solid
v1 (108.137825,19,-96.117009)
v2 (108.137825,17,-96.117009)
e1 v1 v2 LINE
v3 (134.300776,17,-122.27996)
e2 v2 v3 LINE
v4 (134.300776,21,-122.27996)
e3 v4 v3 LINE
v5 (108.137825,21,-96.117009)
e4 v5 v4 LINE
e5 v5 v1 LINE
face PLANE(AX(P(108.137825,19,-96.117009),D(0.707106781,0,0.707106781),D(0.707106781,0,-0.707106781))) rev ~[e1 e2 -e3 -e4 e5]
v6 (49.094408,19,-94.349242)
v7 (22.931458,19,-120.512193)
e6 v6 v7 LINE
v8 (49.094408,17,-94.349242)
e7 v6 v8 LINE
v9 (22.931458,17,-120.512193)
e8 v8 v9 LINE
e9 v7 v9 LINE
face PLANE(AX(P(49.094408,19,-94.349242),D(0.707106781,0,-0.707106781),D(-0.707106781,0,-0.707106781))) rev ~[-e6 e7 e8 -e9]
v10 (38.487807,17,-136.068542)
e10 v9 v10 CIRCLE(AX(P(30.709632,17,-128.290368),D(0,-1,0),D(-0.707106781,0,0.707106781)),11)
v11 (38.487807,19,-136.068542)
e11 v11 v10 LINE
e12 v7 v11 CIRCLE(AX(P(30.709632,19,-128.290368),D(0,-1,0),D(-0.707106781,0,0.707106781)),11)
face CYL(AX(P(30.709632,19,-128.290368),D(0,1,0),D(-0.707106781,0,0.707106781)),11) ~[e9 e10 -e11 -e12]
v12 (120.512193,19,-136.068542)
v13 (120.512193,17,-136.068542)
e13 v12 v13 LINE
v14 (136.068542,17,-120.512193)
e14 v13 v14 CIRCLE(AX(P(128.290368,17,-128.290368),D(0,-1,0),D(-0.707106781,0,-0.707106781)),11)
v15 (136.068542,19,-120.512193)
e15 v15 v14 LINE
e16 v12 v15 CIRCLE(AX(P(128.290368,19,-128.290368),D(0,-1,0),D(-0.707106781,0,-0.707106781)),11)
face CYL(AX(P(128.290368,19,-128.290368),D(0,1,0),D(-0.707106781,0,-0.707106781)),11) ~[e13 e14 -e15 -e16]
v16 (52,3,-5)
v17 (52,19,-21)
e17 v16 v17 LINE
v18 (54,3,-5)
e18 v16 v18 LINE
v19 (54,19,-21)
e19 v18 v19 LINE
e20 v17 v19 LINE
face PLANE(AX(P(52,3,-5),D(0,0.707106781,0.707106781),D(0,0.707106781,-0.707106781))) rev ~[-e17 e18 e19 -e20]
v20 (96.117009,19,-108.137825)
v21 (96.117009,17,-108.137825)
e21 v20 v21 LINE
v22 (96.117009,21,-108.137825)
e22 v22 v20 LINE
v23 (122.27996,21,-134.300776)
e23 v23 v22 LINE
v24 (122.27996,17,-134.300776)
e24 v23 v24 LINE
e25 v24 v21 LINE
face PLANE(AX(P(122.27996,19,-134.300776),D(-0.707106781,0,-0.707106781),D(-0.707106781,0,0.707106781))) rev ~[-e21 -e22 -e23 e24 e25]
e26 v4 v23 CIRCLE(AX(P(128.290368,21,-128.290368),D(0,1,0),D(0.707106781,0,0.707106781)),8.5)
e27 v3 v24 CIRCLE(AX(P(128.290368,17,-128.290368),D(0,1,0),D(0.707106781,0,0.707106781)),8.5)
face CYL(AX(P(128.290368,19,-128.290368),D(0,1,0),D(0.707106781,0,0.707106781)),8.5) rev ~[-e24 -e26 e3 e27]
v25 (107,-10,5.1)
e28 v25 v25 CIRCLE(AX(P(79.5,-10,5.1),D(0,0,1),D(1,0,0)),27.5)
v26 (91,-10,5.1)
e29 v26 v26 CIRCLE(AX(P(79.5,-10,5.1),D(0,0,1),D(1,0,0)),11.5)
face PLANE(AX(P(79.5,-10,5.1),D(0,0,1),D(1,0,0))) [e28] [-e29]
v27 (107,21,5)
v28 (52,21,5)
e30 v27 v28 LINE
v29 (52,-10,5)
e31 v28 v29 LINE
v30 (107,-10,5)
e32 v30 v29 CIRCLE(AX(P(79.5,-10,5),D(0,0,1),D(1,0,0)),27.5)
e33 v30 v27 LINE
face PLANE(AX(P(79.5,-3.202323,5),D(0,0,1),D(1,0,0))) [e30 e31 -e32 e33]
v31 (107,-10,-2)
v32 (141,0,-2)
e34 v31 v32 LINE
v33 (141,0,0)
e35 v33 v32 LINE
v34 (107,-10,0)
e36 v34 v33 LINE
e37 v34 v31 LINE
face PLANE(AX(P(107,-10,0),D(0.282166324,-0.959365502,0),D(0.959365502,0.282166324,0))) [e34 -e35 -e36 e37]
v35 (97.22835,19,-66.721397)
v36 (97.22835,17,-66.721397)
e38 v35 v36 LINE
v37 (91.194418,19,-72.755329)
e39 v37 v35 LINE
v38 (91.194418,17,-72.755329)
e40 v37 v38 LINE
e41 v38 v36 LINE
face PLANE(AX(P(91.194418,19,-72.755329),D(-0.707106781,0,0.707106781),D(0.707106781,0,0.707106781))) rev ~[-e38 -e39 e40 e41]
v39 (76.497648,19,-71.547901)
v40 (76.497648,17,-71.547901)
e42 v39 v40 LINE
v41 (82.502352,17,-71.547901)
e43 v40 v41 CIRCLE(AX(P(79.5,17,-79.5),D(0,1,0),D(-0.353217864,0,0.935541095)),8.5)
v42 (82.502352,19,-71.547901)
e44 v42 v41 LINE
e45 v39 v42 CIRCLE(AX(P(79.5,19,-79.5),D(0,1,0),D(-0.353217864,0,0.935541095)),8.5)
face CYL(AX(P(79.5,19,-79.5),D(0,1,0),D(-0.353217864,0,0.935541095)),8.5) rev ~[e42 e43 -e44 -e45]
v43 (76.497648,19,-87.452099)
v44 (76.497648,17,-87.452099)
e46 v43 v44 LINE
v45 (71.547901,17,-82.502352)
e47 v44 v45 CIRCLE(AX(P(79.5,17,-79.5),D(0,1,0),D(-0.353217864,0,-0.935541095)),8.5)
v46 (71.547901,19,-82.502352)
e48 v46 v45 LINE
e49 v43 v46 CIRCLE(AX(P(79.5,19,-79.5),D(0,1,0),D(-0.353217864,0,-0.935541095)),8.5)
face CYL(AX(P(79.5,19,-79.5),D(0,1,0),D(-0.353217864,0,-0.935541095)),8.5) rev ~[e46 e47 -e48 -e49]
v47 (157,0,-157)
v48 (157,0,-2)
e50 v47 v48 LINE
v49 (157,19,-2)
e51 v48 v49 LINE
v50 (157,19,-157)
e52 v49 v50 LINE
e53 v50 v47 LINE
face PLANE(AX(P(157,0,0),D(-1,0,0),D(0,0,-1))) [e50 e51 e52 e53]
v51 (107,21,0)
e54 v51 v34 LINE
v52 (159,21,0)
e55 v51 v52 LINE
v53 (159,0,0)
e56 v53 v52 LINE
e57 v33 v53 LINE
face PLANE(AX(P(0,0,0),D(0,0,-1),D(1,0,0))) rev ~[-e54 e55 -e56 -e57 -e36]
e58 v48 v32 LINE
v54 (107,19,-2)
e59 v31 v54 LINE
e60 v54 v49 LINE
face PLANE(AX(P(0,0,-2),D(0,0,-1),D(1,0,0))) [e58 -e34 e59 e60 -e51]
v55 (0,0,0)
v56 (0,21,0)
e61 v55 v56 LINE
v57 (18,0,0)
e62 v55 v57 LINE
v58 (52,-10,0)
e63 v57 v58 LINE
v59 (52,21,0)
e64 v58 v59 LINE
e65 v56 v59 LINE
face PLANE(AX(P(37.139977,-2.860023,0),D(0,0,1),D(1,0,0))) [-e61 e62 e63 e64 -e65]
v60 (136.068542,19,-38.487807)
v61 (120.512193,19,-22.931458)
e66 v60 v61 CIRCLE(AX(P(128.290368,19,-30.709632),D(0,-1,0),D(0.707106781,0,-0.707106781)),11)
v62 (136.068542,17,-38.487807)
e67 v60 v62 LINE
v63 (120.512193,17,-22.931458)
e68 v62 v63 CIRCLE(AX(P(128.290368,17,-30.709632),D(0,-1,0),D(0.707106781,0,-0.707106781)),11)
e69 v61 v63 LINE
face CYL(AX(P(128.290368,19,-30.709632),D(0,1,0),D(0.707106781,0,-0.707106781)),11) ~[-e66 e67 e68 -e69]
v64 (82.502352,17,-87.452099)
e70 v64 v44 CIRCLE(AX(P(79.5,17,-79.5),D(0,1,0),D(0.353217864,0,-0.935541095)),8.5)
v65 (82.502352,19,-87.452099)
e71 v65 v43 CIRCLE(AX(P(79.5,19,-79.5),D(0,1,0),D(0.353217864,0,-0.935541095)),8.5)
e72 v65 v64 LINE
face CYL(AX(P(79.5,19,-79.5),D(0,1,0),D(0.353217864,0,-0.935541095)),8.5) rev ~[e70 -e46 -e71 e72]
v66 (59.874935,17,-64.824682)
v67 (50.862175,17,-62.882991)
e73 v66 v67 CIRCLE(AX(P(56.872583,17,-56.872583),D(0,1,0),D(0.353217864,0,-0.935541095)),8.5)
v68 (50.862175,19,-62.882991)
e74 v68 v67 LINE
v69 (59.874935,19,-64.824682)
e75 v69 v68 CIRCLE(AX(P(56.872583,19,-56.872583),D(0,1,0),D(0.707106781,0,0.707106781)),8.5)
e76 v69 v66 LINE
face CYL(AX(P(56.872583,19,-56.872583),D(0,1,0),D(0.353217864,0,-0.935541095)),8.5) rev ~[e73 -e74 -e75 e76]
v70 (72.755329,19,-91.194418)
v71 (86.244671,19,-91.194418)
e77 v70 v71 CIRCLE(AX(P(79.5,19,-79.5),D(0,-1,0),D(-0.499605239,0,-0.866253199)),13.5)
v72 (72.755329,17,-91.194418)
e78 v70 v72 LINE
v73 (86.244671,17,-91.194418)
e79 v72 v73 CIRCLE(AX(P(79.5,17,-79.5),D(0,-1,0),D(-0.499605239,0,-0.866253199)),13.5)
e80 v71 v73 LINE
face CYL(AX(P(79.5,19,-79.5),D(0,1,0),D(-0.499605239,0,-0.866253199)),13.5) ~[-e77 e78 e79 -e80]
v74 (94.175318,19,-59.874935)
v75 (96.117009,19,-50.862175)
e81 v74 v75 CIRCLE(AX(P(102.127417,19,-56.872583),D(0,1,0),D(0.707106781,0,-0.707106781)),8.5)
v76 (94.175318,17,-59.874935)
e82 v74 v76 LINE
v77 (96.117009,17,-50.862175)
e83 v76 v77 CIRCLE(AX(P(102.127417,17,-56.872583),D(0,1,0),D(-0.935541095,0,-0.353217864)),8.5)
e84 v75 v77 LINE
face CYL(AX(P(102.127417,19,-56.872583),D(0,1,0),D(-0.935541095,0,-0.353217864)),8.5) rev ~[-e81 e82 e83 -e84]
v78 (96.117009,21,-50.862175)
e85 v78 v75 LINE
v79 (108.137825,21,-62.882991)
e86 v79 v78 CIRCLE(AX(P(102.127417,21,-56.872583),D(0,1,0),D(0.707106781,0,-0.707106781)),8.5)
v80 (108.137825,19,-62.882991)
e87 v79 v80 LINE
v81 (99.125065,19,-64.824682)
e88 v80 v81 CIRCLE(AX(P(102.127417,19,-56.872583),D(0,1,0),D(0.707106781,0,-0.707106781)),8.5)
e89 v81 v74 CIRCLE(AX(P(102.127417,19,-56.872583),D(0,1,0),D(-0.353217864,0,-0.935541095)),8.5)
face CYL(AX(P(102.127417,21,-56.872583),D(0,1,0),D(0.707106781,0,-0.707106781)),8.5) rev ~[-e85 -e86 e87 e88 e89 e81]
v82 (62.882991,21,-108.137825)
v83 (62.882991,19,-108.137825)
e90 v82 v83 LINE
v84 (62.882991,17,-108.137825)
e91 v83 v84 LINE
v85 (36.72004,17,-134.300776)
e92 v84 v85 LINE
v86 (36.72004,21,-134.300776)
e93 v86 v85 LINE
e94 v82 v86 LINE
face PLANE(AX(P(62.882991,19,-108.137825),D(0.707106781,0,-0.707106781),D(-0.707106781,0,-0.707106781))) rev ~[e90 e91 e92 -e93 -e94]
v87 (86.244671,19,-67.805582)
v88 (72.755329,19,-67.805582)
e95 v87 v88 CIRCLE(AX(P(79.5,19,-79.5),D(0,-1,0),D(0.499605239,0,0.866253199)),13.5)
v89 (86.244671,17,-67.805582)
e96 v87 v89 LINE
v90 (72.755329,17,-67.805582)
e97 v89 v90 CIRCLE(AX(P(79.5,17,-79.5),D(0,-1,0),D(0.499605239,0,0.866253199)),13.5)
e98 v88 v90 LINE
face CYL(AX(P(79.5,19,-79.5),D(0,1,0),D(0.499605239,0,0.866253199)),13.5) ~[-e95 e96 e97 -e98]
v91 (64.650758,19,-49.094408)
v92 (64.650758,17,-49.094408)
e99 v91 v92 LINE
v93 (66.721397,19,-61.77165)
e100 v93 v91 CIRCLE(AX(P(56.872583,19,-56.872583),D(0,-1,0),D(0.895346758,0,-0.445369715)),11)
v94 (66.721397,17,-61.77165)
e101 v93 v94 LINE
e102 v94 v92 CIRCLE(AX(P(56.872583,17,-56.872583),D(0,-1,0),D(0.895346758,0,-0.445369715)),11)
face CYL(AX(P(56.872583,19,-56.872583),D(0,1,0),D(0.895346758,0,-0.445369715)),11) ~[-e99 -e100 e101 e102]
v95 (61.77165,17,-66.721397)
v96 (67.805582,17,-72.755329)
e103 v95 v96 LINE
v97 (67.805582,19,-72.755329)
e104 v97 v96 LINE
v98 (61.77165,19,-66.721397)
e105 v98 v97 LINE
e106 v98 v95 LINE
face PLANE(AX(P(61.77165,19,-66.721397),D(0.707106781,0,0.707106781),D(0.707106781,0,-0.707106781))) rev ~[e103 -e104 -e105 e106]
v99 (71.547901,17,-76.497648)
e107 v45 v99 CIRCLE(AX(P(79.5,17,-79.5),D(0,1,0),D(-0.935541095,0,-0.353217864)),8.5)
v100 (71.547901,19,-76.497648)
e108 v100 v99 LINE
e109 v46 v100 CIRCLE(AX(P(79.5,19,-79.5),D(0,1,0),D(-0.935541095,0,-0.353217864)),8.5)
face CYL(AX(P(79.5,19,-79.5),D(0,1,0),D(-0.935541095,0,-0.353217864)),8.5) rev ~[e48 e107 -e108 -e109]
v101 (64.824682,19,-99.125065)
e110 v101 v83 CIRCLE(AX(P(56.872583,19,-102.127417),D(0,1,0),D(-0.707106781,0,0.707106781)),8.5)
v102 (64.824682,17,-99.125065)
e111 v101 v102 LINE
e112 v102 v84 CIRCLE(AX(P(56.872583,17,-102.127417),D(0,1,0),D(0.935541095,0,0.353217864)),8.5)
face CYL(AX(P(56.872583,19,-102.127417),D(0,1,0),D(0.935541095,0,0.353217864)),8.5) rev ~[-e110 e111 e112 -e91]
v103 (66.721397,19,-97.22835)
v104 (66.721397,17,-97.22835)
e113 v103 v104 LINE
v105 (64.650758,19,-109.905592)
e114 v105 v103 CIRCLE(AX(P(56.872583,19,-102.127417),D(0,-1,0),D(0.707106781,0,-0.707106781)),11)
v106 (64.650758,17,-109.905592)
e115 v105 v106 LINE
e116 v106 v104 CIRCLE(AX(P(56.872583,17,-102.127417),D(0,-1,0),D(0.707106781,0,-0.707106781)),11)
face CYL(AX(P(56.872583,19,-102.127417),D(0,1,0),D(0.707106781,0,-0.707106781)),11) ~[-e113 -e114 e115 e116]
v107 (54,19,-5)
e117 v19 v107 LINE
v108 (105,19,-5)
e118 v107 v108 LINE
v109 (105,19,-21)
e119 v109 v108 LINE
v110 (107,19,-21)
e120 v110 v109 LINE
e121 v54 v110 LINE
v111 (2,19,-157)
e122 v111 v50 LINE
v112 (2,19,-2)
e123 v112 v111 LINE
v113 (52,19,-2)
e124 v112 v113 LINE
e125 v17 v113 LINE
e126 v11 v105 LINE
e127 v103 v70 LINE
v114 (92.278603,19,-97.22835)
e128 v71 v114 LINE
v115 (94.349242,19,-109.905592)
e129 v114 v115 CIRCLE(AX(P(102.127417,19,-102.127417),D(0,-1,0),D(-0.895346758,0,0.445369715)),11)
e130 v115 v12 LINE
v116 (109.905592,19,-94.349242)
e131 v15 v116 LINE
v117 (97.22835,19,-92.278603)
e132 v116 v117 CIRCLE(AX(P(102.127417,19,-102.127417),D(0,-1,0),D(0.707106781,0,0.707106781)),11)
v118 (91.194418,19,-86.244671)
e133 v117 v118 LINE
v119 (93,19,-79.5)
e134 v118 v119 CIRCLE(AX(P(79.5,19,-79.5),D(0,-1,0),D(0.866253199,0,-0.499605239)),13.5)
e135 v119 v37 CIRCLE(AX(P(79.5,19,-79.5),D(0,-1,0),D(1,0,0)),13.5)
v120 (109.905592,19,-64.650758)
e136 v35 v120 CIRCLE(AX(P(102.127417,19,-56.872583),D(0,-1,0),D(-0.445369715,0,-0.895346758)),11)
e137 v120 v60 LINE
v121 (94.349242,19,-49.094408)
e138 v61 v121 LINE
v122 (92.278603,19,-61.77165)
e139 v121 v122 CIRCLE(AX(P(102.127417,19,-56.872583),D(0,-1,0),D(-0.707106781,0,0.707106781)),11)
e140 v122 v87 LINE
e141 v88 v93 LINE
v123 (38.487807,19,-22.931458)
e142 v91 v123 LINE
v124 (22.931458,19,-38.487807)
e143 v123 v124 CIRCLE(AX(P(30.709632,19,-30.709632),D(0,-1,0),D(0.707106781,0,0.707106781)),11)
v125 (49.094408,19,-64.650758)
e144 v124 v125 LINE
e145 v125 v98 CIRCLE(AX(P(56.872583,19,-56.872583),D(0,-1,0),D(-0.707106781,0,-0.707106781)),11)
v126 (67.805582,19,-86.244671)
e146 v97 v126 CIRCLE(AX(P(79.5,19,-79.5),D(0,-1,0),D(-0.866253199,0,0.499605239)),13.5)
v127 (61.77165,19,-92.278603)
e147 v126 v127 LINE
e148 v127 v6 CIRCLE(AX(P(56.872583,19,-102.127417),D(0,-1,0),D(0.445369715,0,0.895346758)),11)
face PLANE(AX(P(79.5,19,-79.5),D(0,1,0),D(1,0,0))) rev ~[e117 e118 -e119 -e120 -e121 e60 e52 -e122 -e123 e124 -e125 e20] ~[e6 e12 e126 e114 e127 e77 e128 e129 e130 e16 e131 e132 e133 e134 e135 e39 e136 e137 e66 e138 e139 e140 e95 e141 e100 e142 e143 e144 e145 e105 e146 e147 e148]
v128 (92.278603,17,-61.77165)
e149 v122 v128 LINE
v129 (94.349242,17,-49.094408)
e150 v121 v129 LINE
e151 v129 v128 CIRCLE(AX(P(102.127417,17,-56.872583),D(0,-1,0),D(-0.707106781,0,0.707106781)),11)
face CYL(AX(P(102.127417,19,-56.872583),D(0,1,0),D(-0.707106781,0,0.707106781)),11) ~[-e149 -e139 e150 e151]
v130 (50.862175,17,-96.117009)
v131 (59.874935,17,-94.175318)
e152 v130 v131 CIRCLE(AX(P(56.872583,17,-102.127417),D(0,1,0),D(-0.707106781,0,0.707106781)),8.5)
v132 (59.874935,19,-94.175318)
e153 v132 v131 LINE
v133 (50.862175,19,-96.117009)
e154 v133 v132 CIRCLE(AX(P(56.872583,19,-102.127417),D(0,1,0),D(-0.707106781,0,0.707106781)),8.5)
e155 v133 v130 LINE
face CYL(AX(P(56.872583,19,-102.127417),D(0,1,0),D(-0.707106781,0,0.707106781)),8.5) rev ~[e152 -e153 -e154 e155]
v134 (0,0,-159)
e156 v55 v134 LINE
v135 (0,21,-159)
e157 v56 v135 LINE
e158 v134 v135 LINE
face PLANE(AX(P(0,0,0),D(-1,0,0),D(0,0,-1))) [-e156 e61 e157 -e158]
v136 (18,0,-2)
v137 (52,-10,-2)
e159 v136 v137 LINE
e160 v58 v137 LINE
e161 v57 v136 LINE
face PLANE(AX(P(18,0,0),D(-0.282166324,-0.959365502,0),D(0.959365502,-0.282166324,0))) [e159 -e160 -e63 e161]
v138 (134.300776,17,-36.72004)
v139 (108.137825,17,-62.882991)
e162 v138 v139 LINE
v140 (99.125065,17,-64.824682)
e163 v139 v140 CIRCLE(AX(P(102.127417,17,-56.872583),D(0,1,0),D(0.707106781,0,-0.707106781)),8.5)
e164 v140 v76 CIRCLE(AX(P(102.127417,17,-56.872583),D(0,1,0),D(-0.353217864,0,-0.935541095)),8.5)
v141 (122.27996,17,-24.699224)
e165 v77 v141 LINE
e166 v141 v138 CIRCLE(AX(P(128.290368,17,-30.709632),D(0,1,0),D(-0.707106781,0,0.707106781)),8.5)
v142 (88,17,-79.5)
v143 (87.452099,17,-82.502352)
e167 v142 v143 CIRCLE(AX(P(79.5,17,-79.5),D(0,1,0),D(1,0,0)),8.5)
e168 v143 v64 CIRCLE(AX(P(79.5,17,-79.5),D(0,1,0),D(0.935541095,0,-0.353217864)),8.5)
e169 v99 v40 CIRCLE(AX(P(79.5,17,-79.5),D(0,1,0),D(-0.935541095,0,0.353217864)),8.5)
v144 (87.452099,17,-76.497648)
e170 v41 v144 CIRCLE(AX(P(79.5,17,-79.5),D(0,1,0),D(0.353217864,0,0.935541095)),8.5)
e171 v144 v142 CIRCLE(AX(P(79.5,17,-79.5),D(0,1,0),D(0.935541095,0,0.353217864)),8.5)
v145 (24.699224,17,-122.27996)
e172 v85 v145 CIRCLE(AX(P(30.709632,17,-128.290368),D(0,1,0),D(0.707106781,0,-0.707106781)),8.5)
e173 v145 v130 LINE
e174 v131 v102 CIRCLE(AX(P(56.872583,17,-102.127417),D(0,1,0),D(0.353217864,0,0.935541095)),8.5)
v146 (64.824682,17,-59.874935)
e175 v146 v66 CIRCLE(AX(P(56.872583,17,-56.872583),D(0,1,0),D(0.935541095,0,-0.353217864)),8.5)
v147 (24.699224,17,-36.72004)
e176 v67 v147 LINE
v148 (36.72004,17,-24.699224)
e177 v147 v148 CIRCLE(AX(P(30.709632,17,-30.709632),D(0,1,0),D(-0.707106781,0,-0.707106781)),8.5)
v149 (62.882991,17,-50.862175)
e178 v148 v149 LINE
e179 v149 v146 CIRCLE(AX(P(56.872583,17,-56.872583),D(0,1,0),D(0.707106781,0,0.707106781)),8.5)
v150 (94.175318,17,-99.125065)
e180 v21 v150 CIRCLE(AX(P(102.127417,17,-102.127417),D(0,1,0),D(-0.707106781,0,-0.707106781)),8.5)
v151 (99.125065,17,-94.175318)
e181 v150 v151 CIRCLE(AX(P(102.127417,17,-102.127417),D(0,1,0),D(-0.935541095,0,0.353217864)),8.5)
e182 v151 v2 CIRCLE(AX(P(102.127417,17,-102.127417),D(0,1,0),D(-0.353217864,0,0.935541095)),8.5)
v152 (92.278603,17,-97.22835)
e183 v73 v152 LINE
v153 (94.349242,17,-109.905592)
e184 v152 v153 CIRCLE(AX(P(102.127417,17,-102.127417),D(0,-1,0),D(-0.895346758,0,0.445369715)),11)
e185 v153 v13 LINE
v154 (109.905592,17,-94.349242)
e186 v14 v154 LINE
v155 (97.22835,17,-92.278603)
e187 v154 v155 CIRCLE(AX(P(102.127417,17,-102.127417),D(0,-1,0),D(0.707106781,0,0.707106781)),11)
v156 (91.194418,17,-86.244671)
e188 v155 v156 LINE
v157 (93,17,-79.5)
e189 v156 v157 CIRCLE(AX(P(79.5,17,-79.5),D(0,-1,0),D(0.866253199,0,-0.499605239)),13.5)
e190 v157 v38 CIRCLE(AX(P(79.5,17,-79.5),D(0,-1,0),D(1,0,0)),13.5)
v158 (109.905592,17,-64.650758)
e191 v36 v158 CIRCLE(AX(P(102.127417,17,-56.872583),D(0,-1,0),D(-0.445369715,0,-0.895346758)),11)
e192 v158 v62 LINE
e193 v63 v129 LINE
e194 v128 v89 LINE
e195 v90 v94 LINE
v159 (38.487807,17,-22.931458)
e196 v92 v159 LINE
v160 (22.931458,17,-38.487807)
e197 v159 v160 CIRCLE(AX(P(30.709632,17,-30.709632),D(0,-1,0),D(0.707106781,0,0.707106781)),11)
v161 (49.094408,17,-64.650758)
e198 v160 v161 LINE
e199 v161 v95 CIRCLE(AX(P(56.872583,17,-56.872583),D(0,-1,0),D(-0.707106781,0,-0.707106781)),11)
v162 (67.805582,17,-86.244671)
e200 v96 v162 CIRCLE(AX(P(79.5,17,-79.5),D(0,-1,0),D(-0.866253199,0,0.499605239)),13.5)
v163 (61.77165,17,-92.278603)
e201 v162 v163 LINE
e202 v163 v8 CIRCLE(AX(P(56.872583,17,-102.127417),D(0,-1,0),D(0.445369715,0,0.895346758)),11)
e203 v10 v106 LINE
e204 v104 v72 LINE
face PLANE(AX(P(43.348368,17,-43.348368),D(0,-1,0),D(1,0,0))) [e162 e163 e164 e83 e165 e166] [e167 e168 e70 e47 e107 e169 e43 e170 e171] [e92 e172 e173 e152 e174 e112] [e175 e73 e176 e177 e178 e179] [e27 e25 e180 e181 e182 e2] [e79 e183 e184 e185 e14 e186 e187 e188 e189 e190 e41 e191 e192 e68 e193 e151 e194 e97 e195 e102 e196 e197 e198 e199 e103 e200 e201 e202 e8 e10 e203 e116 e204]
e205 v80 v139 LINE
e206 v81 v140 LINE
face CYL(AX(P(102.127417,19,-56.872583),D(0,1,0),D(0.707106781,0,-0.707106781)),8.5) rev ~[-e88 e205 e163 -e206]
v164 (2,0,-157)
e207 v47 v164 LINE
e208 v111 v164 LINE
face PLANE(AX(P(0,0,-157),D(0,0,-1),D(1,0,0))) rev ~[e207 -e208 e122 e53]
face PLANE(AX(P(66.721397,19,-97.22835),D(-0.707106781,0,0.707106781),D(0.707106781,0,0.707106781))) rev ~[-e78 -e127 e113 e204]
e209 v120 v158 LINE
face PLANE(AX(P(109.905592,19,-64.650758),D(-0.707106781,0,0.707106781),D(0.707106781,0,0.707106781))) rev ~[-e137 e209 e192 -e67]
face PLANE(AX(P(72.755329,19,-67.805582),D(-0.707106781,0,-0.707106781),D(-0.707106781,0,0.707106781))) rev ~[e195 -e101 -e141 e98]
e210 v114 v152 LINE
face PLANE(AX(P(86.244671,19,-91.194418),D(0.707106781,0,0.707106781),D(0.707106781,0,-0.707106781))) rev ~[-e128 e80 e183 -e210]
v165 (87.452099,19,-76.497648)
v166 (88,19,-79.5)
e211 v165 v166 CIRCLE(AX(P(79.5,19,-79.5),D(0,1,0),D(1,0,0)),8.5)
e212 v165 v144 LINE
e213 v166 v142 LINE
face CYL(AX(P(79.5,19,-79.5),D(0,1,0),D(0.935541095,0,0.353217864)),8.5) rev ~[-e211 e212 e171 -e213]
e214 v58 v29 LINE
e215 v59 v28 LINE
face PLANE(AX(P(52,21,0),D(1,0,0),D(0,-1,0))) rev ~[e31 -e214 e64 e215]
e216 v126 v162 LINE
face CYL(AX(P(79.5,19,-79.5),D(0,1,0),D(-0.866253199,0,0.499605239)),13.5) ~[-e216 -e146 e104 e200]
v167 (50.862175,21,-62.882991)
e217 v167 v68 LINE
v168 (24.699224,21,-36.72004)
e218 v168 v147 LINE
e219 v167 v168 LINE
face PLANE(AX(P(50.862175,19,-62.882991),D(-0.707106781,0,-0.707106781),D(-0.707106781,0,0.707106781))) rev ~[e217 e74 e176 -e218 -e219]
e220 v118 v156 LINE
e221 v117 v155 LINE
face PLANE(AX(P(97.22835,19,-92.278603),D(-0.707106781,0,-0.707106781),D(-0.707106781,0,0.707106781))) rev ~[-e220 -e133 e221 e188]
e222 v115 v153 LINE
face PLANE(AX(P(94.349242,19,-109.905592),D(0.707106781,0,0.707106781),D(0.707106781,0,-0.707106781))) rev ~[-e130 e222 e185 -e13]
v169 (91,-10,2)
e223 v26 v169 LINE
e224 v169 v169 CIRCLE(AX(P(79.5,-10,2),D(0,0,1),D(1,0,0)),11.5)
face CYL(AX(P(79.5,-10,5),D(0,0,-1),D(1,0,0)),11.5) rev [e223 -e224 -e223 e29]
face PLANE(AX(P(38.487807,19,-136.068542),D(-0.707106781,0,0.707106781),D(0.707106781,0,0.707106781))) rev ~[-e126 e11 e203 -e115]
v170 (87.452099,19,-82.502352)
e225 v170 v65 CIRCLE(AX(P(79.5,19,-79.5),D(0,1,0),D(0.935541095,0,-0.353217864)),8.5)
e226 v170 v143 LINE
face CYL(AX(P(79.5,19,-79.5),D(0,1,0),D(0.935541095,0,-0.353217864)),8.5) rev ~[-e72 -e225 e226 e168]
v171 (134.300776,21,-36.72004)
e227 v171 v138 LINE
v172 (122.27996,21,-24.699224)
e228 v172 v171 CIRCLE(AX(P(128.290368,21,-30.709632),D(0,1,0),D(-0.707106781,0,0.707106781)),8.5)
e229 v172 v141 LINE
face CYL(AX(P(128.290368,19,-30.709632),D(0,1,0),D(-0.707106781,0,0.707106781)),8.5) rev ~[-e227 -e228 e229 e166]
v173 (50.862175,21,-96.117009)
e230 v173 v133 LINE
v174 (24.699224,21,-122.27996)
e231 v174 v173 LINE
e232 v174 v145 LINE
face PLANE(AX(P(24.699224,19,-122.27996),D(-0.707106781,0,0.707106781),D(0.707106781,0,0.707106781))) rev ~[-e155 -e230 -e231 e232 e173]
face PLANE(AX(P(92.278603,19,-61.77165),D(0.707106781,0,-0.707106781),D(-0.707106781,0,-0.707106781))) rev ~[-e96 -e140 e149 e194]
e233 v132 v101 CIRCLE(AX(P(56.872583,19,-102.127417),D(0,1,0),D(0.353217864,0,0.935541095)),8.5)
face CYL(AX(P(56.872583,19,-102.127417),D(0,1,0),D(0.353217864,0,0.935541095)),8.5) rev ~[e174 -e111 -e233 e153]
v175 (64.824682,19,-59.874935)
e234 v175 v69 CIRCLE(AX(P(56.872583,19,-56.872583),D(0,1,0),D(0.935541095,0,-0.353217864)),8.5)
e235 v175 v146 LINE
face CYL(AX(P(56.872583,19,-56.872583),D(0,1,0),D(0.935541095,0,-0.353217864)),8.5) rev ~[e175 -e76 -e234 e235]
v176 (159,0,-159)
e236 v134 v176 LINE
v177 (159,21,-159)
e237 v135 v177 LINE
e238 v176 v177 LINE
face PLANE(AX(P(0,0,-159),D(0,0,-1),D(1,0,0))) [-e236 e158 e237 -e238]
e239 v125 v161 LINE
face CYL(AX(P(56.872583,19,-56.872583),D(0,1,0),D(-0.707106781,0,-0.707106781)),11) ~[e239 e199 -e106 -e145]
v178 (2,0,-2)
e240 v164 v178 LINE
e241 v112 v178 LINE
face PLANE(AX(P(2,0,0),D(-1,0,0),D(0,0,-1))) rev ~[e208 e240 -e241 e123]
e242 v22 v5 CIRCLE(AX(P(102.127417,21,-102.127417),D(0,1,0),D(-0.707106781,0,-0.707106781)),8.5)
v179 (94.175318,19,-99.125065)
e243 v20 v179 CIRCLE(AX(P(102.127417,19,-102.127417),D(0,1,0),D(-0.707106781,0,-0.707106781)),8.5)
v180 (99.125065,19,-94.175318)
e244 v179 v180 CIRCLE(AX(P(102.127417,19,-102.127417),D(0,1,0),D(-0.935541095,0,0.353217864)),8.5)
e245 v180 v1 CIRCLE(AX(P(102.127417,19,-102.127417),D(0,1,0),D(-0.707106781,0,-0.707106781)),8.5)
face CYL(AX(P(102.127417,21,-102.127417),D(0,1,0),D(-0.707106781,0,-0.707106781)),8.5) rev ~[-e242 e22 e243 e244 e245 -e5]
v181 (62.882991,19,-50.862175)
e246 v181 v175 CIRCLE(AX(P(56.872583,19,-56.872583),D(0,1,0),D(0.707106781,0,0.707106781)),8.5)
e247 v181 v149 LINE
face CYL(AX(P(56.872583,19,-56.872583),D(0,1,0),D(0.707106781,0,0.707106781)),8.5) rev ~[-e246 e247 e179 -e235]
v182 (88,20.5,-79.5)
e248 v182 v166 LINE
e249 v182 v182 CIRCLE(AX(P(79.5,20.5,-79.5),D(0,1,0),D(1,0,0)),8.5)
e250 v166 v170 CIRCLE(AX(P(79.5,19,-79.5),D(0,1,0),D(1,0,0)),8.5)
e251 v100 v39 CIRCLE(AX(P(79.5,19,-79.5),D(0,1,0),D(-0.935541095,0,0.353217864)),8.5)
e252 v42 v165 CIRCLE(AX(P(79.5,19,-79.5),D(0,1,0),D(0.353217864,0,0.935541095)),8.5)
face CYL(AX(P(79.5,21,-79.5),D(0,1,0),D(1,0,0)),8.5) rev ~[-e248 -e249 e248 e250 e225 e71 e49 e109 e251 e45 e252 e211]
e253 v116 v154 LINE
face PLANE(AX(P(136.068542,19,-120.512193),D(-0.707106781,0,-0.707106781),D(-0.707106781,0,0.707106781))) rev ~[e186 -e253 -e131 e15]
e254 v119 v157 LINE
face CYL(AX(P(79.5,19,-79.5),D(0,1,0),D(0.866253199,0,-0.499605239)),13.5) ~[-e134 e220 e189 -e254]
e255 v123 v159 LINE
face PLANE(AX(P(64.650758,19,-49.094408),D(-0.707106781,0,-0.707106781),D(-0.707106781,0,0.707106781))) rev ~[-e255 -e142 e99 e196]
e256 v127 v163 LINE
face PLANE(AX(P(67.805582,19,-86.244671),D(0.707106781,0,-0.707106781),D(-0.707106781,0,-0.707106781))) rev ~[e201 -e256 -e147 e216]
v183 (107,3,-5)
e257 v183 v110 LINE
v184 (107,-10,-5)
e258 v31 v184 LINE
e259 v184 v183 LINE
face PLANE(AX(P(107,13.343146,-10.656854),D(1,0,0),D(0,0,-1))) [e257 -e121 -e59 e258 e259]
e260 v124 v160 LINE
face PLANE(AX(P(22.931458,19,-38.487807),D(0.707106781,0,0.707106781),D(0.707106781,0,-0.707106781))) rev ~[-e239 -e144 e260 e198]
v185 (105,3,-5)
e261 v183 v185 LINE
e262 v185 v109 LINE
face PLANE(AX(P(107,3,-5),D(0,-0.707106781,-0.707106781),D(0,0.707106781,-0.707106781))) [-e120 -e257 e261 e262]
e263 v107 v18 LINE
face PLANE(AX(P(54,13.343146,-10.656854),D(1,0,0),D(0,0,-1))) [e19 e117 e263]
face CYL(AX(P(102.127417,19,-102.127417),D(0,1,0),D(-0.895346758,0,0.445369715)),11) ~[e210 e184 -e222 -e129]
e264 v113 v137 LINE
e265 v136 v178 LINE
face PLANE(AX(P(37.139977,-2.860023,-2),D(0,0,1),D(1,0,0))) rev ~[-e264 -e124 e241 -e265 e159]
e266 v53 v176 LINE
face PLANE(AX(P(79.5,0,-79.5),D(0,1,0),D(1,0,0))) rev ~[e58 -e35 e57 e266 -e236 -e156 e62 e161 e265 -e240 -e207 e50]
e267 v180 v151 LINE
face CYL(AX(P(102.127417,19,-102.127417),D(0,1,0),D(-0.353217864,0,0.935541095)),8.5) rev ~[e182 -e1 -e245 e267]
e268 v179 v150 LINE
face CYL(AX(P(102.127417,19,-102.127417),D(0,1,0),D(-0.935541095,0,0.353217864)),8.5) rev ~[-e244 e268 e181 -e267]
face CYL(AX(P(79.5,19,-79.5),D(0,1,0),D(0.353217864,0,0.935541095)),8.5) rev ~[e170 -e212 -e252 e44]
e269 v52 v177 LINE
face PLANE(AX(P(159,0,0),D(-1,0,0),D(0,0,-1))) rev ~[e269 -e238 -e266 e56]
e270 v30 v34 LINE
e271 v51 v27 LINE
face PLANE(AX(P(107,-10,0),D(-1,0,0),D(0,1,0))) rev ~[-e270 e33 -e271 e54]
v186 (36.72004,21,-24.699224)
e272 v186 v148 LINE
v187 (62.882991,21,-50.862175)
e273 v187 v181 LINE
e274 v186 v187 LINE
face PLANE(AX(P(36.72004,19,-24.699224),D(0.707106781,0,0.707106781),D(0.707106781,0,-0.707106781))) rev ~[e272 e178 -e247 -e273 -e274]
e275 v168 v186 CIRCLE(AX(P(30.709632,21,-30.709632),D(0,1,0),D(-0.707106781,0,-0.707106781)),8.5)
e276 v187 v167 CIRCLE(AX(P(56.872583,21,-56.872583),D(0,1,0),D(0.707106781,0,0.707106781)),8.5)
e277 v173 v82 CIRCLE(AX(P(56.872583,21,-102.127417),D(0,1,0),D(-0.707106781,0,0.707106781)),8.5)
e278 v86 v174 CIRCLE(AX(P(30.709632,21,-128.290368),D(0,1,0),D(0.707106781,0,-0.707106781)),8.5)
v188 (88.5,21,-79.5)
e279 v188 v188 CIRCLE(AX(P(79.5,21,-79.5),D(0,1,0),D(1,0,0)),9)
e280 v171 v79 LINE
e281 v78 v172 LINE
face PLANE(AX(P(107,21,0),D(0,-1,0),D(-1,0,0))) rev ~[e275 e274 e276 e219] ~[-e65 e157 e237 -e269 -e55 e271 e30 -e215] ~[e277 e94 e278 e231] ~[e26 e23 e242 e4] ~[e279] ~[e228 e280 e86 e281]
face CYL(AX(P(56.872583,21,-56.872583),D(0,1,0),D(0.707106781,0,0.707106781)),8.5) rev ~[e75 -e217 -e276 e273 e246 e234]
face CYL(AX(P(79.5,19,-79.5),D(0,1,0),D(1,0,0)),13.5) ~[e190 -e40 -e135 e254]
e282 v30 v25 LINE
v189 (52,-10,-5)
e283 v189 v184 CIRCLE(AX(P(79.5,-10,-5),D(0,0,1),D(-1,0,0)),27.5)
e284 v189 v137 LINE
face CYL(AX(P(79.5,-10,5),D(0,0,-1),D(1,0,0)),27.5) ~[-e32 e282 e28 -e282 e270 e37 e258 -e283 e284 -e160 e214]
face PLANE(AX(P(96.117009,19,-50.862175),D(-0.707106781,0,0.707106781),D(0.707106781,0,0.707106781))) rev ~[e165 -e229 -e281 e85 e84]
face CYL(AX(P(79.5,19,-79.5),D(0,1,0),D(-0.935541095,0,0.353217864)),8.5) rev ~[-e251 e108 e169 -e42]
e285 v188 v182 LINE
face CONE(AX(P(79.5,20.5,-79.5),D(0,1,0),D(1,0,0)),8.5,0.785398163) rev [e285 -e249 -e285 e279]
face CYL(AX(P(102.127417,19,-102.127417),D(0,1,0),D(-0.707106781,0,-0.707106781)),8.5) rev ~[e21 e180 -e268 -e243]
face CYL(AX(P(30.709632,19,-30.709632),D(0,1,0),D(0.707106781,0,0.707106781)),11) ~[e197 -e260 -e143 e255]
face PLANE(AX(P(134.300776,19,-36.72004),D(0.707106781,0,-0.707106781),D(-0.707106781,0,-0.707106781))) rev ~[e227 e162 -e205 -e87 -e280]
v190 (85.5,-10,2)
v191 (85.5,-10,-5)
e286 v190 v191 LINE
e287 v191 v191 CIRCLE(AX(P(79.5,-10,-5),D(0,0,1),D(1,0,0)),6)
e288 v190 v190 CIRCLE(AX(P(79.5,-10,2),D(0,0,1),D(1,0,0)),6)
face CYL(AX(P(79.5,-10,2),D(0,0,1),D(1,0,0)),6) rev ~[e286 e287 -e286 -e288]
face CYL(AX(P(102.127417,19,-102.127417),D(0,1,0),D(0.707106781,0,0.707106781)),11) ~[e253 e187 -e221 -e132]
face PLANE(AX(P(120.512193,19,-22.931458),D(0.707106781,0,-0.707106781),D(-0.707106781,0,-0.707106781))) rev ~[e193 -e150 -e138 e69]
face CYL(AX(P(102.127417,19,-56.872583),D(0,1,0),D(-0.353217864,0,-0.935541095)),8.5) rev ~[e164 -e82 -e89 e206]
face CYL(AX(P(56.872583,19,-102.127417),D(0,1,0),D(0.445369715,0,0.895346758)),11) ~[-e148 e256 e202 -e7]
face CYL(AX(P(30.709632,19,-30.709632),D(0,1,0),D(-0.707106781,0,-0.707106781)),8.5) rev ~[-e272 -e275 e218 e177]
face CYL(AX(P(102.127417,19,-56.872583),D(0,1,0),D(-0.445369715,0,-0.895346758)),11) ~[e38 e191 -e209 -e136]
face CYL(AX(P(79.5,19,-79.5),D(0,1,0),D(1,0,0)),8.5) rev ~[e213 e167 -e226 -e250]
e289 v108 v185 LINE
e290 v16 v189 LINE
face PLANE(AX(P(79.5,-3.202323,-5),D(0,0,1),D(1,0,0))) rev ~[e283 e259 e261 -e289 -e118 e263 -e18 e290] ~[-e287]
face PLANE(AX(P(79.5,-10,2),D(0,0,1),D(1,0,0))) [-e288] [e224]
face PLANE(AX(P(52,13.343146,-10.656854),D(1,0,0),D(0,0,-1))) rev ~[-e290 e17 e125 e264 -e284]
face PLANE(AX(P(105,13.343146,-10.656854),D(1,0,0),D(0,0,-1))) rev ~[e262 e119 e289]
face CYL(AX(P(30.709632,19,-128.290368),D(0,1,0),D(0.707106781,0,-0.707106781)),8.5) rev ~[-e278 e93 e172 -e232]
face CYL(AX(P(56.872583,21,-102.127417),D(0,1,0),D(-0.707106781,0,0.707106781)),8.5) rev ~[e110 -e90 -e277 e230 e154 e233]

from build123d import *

# Parameters (mm, degrees)
SKETCH2_W                = 159
SKETCH2_H                = 159
BOSS_EXTRUDE1_DEPTH      = 21
SHELL1_T                 = -2
BOSS_EXTRUDE2_DEPTH      = 5
BOSS_EXTRUDE2_DEPTH_BACK = 5
BOSS_EXTRUDE3_DEPTH      = 2
SKETCH6_R                = 11.5
CUT_EXTRUDE1_DEPTH       = 3
SKETCH7_R                = 6
CUT_EXTRUDE2_DEPTH       = 7
SKETCH8_R                = 8.5
CUT_EXTRUDE3_DEPTH       = 59.5
BOSS_EXTRUDE4_DEPTH      = 2
BOSS_EXTRUDE5_START      = 27.5
BOSS_EXTRUDE5_DEPTH      = 2
BOSS_EXTRUDE6_START      = -27.5
BOSS_EXTRUDE6_DEPTH      = 2
CHAMFER3_SIZE            = 0.5
SKETCH14_R               = 27.5
SKETCH14_R_2             = 11.5
BOSS_EXTRUDE7_DEPTH      = 0.1


with BuildPart() as part:
    # Sketch2 → Boss-Extrude1 (new body)
    with BuildSketch(Plane(origin=(0, 0, 0), x_dir=(1, 0, 0), z_dir=(0, 1, 0))):
        with Locations((79.5, 79.5)):
            Rectangle(SKETCH2_W, SKETCH2_H)
    extrude(amount=BOSS_EXTRUDE1_DEPTH)

    # Shell1
    shell1_openings = [part.faces().sort_by_distance(p)[0] for p in [
        (79.5, 0, -79.5),
    ]]
    offset(amount=SHELL1_T, openings=shell1_openings, kind=Kind.INTERSECTION)

    # Sketch4 → Boss-Extrude2 (add, two sides)
    with BuildSketch(Plane.XY) as boss_extrude2_sk:
        with BuildLine():
            Line((107, 21), (52, 21))
            Line((52, 21), (52, -10))
            ThreePointArc((52, -10), (79.5, -37.5), (107, -10))
            Line((107, -10), (107, 21))
        make_face()
    extrude(amount=BOSS_EXTRUDE2_DEPTH)
    extrude(boss_extrude2_sk.sketch, amount=-BOSS_EXTRUDE2_DEPTH_BACK)

    # Sketch5 → Boss-Extrude3 (add)
    with BuildSketch(Plane.XY):
        Polygon((52, -10), (52, 0), (18, 0), align=None)
        Polygon((107, 0), (107, -10), (141, 0), align=None)
    extrude(amount=-BOSS_EXTRUDE3_DEPTH)

    # Sketch6 → Cut-Extrude1 (cut)
    with BuildSketch(Plane.XY.offset(5)):
        with Locations((79.5, -10)):
            Circle(SKETCH6_R)
    extrude(amount=-CUT_EXTRUDE1_DEPTH, mode=Mode.SUBTRACT)

    # Sketch7 → Cut-Extrude2 (cut)
    with BuildSketch(Plane.XY.offset(2)):
        with Locations((79.5, -10)):
            Circle(SKETCH7_R)
    extrude(amount=-CUT_EXTRUDE2_DEPTH, mode=Mode.SUBTRACT)

    # Sketch8 → Cut-Extrude3 (cut, through all)
    with BuildSketch(Plane(origin=(0, 21, 0), x_dir=(1, 0, 0), z_dir=(0, 1, 0))):
        with Locations((79.5, 79.5)):
            Circle(SKETCH8_R)
        with BuildLine():
            Line((24.699224458, 122.279960262), (50.862175362, 96.117009358))
            ThreePointArc((50.862175362, 96.117009358), (62.882990642, 96.117009358), (62.882990642, 108.137824638))
            Line((62.882990642, 108.137824638), (36.720039738, 134.300775542))
            ThreePointArc((36.720039738, 134.300775542), (24.699224458, 134.300775542), (24.699224458, 122.279960262))
        make_face()
        with BuildLine():
            Line((122.279960262, 134.300775542), (96.117009358, 108.137824638))
            ThreePointArc((96.117009358, 108.137824638), (96.117009358, 96.117009358), (108.137824638, 96.117009358))
            Line((108.137824638, 96.117009358), (134.300775542, 122.279960262))
            ThreePointArc((134.300775542, 122.279960262), (134.300775542, 134.300775542), (122.279960262, 134.300775542))
        make_face()
        with BuildLine():
            Line((134.300775542, 36.720039738), (108.137824638, 62.882990642))
            ThreePointArc((108.137824638, 62.882990642), (96.117009358, 62.882990642), (96.117009358, 50.862175362))
            Line((96.117009358, 50.862175362), (122.279960262, 24.699224458))
            ThreePointArc((122.279960262, 24.699224458), (134.300775542, 24.699224458), (134.300775542, 36.720039738))
        make_face()
        with BuildLine():
            Line((50.862175362, 62.882990642), (24.699224458, 36.720039738))
            ThreePointArc((24.699224458, 36.720039738), (24.699224458, 24.699224458), (36.720039738, 24.699224458))
            Line((36.720039738, 24.699224458), (62.882990642, 50.862175362))
            ThreePointArc((62.882990642, 50.862175362), (62.882990642, 62.882990642), (50.862175362, 62.882990642))
        make_face()
    extrude(amount=-CUT_EXTRUDE3_DEPTH, mode=Mode.SUBTRACT)

    # Sketch9 → Boss-Extrude4 (add)
    with BuildSketch(Plane.XZ.offset(-19)):
        with BuildLine():
            ThreePointArc((49.094408409, -64.650757595), (55.099393063, -67.728724003), (61.77164987, -66.721397338))
            Line((61.77164987, -66.721397338), (59.874934843, -64.824682311))
            ThreePointArc((59.874934843, -64.824682311), (55.082431735, -65.181936674), (50.862175362, -62.882990642))
            Line((50.862175362, -62.882990642), (24.699224458, -36.720039738))
            ThreePointArc((24.699224458, -36.720039738), (24.699224458, -24.699224458), (36.720039738, -24.699224458))
            Line((36.720039738, -24.699224458), (62.882990642, -50.862175362))
            ThreePointArc((62.882990642, -50.862175362), (65.181936674, -55.082431735), (64.824682311, -59.874934843))
            Line((64.824682311, -59.874934843), (66.721397338, -61.77164987))
            ThreePointArc((66.721397338, -61.77164987), (67.728724003, -55.099393063), (64.650757595, -49.094408409))
            Line((64.650757595, -49.094408409), (38.487806691, -22.931457505))
            ThreePointArc((38.487806691, -22.931457505), (22.931457505, -22.931457505), (22.931457505, -38.487806691))
            Line((22.931457505, -38.487806691), (49.094408409, -64.650757595))
        make_face()
        with BuildLine():
            Line((94.175317689, -99.125065157), (92.278602662, -97.22835013))
            ThreePointArc((92.278602662, -97.22835013), (91.271275997, -103.900606937), (94.349242405, -109.905591591))
            Line((94.349242405, -109.905591591), (120.512193309, -136.068542495))
            ThreePointArc((120.512193309, -136.068542495), (136.068542495, -136.068542495), (136.068542495, -120.512193309))
            Line((136.068542495, -120.512193309), (109.905591591, -94.349242405))
            ThreePointArc((109.905591591, -94.349242405), (103.900606937, -91.271275997), (97.22835013, -92.278602662))
            Line((97.22835013, -92.278602662), (99.125065157, -94.175317689))
            ThreePointArc((99.125065157, -94.175317689), (103.917568265, -93.818063326), (108.137824638, -96.117009358))
            Line((108.137824638, -96.117009358), (134.300775542, -122.279960262))
            ThreePointArc((134.300775542, -122.279960262), (134.300775542, -134.300775542), (122.279960262, -134.300775542))
            Line((122.279960262, -134.300775542), (96.117009358, -108.137824638))
            ThreePointArc((96.117009358, -108.137824638), (93.818063326, -103.917568265), (94.175317689, -99.125065157))
        make_face()
        with BuildLine():
            Line((59.874934843, -64.824682311), (61.77164987, -66.721397338))
            ThreePointArc((61.77164987, -66.721397338), (64.650757595, -64.650757595), (66.721397338, -61.77164987))
            Line((66.721397338, -61.77164987), (64.824682311, -59.874934843))
            ThreePointArc((64.824682311, -59.874934843), (62.882990642, -62.882990642), (59.874934843, -64.824682311))
        make_face()
        with BuildLine():
            ThreePointArc((97.22835013, -92.278602662), (94.349242405, -94.349242405), (92.278602662, -97.22835013))
            Line((92.278602662, -97.22835013), (94.175317689, -99.125065157))
            ThreePointArc((94.175317689, -99.125065157), (96.117009358, -96.117009358), (99.125065157, -94.175317689))
            Line((99.125065157, -94.175317689), (97.22835013, -92.278602662))
        make_face()
        with BuildLine():
            ThreePointArc((71.547900691, -82.502351841), (71, -79.5), (71.547900691, -76.497648159))
            Line((71.547900691, -76.497648159), (67.805581809, -72.755329277))
            ThreePointArc((67.805581809, -72.755329277), (66, -79.5), (67.805581809, -86.244670723))
            Line((67.805581809, -86.244670723), (71.547900691, -82.502351841))
        make_face()
        with BuildLine():
            Line((67.805581809, -72.755329277), (71.547900691, -76.497648159))
            ThreePointArc((71.547900691, -76.497648159), (73.48959236, -73.48959236), (76.497648159, -71.547900691))
            Line((76.497648159, -71.547900691), (72.755329277, -67.805581809))
            ThreePointArc((72.755329277, -67.805581809), (69.954058454, -69.954058454), (67.805581809, -72.755329277))
        make_face()
        with BuildLine():
            Line((72.755329277, -67.805581809), (76.497648159, -71.547900691))
            ThreePointArc((76.497648159, -71.547900691), (79.5, -71), (82.502351841, -71.547900691))
            Line((82.502351841, -71.547900691), (86.244670723, -67.805581809))
            ThreePointArc((86.244670723, -67.805581809), (79.5, -66), (72.755329277, -67.805581809))
        make_face()
        with BuildLine():
            ThreePointArc((82.502351841, -71.547900691), (85.51040764, -73.48959236), (87.452099309, -76.497648159))
            Line((87.452099309, -76.497648159), (91.194418191, -72.755329277))
            ThreePointArc((91.194418191, -72.755329277), (89.045941546, -69.954058454), (86.244670723, -67.805581809))
            Line((86.244670723, -67.805581809), (82.502351841, -71.547900691))
        make_face()
        with BuildLine():
            ThreePointArc((88, -79.5), (87.861903017, -81.025967869), (87.452099309, -82.502351841))
            Line((87.452099309, -82.502351841), (91.194418191, -86.244670723))
            ThreePointArc((91.194418191, -86.244670723), (92.540794561, -82.991085391), (93, -79.5))
            ThreePointArc((93, -79.5), (92.540794561, -76.008914609), (91.194418191, -72.755329277))
            Line((91.194418191, -72.755329277), (87.452099309, -76.497648159))
            ThreePointArc((87.452099309, -76.497648159), (87.861903017, -77.974032131), (88, -79.5))
        make_face()
        with BuildLine():
            ThreePointArc((87.452099309, -82.502351841), (85.51040764, -85.51040764), (82.502351841, -87.452099309))
            Line((82.502351841, -87.452099309), (86.244670723, -91.194418191))
            ThreePointArc((86.244670723, -91.194418191), (89.045941546, -89.045941546), (91.194418191, -86.244670723))
            Line((91.194418191, -86.244670723), (87.452099309, -82.502351841))
        make_face()
        with BuildLine():
            ThreePointArc((76.497648159, -87.452099309), (73.48959236, -85.51040764), (71.547900691, -82.502351841))
            Line((71.547900691, -82.502351841), (67.805581809, -86.244670723))
            ThreePointArc((67.805581809, -86.244670723), (69.954058454, -89.045941546), (72.755329277, -91.194418191))
            Line((72.755329277, -91.194418191), (76.497648159, -87.452099309))
        make_face()
        with BuildLine():
            ThreePointArc((82.502351841, -87.452099309), (79.5, -88), (76.497648159, -87.452099309))
            Line((76.497648159, -87.452099309), (72.755329277, -91.194418191))
            ThreePointArc((72.755329277, -91.194418191), (79.5, -93), (86.244670723, -91.194418191))
            Line((86.244670723, -91.194418191), (82.502351841, -87.452099309))
        make_face()
        with BuildLine():
            ThreePointArc((72.755329277, -91.194418191), (69.954058454, -89.045941546), (67.805581809, -86.244670723))
            Line((67.805581809, -86.244670723), (61.77164987, -92.278602662))
            ThreePointArc((61.77164987, -92.278602662), (64.650757595, -94.349242405), (66.721397338, -97.22835013))
            Line((66.721397338, -97.22835013), (72.755329277, -91.194418191))
        make_face()
        with BuildLine():
            ThreePointArc((91.194418191, -86.244670723), (89.045941546, -89.045941546), (86.244670723, -91.194418191))
            Line((86.244670723, -91.194418191), (92.278602662, -97.22835013))
            ThreePointArc((92.278602662, -97.22835013), (94.349242405, -94.349242405), (97.22835013, -92.278602662))
            Line((97.22835013, -92.278602662), (91.194418191, -86.244670723))
        make_face()
        with BuildLine():
            ThreePointArc((86.244670723, -67.805581809), (89.045941546, -69.954058454), (91.194418191, -72.755329277))
            Line((91.194418191, -72.755329277), (97.22835013, -66.721397338))
            ThreePointArc((97.22835013, -66.721397338), (94.349242405, -64.650757595), (92.278602662, -61.77164987))
            Line((92.278602662, -61.77164987), (86.244670723, -67.805581809))
        make_face()
        with BuildLine():
            Line((61.77164987, -66.721397338), (67.805581809, -72.755329277))
            ThreePointArc((67.805581809, -72.755329277), (69.954058454, -69.954058454), (72.755329277, -67.805581809))
            Line((72.755329277, -67.805581809), (66.721397338, -61.77164987))
            ThreePointArc((66.721397338, -61.77164987), (64.650757595, -64.650757595), (61.77164987, -66.721397338))
        make_face()
        with BuildLine():
            Line((99.125065157, -64.824682311), (97.22835013, -66.721397338))
            ThreePointArc((97.22835013, -66.721397338), (103.900606937, -67.728724003), (109.905591591, -64.650757595))
            Line((109.905591591, -64.650757595), (136.068542495, -38.487806691))
            ThreePointArc((136.068542495, -38.487806691), (136.068542495, -22.931457505), (120.512193309, -22.931457505))
            Line((120.512193309, -22.931457505), (94.349242405, -49.094408409))
            ThreePointArc((94.349242405, -49.094408409), (91.271275997, -55.099393063), (92.278602662, -61.77164987))
            Line((92.278602662, -61.77164987), (94.175317689, -59.874934843))
            ThreePointArc((94.175317689, -59.874934843), (93.818063326, -55.082431735), (96.117009358, -50.862175362))
            Line((96.117009358, -50.862175362), (122.279960262, -24.699224458))
            ThreePointArc((122.279960262, -24.699224458), (134.300775542, -24.699224458), (134.300775542, -36.720039738))
            Line((134.300775542, -36.720039738), (108.137824638, -62.882990642))
            ThreePointArc((108.137824638, -62.882990642), (103.917568265, -65.181936674), (99.125065157, -64.824682311))
        make_face()
        with BuildLine():
            Line((59.874934843, -94.175317689), (61.77164987, -92.278602662))
            ThreePointArc((61.77164987, -92.278602662), (55.099393063, -91.271275997), (49.094408409, -94.349242405))
            Line((49.094408409, -94.349242405), (22.931457505, -120.512193309))
            ThreePointArc((22.931457505, -120.512193309), (22.931457505, -136.068542495), (38.487806691, -136.068542495))
            Line((38.487806691, -136.068542495), (64.650757595, -109.905591591))
            ThreePointArc((64.650757595, -109.905591591), (67.728724003, -103.900606937), (66.721397338, -97.22835013))
            Line((66.721397338, -97.22835013), (64.824682311, -99.125065157))
            ThreePointArc((64.824682311, -99.125065157), (65.181936674, -103.917568265), (62.882990642, -108.137824638))
            Line((62.882990642, -108.137824638), (36.720039738, -134.300775542))
            ThreePointArc((36.720039738, -134.300775542), (24.699224458, -134.300775542), (24.699224458, -122.279960262))
            Line((24.699224458, -122.279960262), (50.862175362, -96.117009358))
            ThreePointArc((50.862175362, -96.117009358), (55.082431735, -93.818063326), (59.874934843, -94.175317689))
        make_face()
        with BuildLine():
            ThreePointArc((66.721397338, -97.22835013), (64.650757595, -94.349242405), (61.77164987, -92.278602662))
            Line((61.77164987, -92.278602662), (59.874934843, -94.175317689))
            ThreePointArc((59.874934843, -94.175317689), (62.882990642, -96.117009358), (64.824682311, -99.125065157))
            Line((64.824682311, -99.125065157), (66.721397338, -97.22835013))
        make_face()
        with BuildLine():
            ThreePointArc((92.278602662, -61.77164987), (94.349242405, -64.650757595), (97.22835013, -66.721397338))
            Line((97.22835013, -66.721397338), (99.125065157, -64.824682311))
            ThreePointArc((99.125065157, -64.824682311), (96.117009358, -62.882990642), (94.175317689, -59.874934843))
            Line((94.175317689, -59.874934843), (92.278602662, -61.77164987))
        make_face()
    extrude(amount=BOSS_EXTRUDE4_DEPTH)

    # Sketch13 → Boss-Extrude5 (add)
    with BuildSketch(Plane(origin=(79.5, 0, 0), x_dir=(0, 0, -1), z_dir=(1, 0, 0)).offset(BOSS_EXTRUDE5_START)):
        Polygon((5, 19), (5, 3), (21, 19), align=None)
    extrude(amount=-BOSS_EXTRUDE5_DEPTH)

    # Sketch13<2> → Boss-Extrude6 (add)
    with BuildSketch(Plane(origin=(79.5, 0, 0), x_dir=(0, 0, -1), z_dir=(1, 0, 0)).offset(BOSS_EXTRUDE6_START)):
        Polygon((5, 19), (5, 3), (21, 19), align=None)
    extrude(amount=BOSS_EXTRUDE6_DEPTH)

    # Chamfer3
    chamfer3_edges = [part.edges().sort_by_distance(p)[0] for p in [
        (71, 21, -79.5),
    ]]
    chamfer(chamfer3_edges, length=CHAMFER3_SIZE)

    # Sketch14 → Boss-Extrude7 (add)
    with BuildSketch(Plane.XY.offset(5)):
        with Locations((79.5, -10)):
            Circle(SKETCH14_R)
        with Locations((79.5, -10)):
            Circle(SKETCH14_R_2, mode=Mode.SUBTRACT)
    extrude(amount=BOSS_EXTRUDE7_DEPTH)


solid = part.part
